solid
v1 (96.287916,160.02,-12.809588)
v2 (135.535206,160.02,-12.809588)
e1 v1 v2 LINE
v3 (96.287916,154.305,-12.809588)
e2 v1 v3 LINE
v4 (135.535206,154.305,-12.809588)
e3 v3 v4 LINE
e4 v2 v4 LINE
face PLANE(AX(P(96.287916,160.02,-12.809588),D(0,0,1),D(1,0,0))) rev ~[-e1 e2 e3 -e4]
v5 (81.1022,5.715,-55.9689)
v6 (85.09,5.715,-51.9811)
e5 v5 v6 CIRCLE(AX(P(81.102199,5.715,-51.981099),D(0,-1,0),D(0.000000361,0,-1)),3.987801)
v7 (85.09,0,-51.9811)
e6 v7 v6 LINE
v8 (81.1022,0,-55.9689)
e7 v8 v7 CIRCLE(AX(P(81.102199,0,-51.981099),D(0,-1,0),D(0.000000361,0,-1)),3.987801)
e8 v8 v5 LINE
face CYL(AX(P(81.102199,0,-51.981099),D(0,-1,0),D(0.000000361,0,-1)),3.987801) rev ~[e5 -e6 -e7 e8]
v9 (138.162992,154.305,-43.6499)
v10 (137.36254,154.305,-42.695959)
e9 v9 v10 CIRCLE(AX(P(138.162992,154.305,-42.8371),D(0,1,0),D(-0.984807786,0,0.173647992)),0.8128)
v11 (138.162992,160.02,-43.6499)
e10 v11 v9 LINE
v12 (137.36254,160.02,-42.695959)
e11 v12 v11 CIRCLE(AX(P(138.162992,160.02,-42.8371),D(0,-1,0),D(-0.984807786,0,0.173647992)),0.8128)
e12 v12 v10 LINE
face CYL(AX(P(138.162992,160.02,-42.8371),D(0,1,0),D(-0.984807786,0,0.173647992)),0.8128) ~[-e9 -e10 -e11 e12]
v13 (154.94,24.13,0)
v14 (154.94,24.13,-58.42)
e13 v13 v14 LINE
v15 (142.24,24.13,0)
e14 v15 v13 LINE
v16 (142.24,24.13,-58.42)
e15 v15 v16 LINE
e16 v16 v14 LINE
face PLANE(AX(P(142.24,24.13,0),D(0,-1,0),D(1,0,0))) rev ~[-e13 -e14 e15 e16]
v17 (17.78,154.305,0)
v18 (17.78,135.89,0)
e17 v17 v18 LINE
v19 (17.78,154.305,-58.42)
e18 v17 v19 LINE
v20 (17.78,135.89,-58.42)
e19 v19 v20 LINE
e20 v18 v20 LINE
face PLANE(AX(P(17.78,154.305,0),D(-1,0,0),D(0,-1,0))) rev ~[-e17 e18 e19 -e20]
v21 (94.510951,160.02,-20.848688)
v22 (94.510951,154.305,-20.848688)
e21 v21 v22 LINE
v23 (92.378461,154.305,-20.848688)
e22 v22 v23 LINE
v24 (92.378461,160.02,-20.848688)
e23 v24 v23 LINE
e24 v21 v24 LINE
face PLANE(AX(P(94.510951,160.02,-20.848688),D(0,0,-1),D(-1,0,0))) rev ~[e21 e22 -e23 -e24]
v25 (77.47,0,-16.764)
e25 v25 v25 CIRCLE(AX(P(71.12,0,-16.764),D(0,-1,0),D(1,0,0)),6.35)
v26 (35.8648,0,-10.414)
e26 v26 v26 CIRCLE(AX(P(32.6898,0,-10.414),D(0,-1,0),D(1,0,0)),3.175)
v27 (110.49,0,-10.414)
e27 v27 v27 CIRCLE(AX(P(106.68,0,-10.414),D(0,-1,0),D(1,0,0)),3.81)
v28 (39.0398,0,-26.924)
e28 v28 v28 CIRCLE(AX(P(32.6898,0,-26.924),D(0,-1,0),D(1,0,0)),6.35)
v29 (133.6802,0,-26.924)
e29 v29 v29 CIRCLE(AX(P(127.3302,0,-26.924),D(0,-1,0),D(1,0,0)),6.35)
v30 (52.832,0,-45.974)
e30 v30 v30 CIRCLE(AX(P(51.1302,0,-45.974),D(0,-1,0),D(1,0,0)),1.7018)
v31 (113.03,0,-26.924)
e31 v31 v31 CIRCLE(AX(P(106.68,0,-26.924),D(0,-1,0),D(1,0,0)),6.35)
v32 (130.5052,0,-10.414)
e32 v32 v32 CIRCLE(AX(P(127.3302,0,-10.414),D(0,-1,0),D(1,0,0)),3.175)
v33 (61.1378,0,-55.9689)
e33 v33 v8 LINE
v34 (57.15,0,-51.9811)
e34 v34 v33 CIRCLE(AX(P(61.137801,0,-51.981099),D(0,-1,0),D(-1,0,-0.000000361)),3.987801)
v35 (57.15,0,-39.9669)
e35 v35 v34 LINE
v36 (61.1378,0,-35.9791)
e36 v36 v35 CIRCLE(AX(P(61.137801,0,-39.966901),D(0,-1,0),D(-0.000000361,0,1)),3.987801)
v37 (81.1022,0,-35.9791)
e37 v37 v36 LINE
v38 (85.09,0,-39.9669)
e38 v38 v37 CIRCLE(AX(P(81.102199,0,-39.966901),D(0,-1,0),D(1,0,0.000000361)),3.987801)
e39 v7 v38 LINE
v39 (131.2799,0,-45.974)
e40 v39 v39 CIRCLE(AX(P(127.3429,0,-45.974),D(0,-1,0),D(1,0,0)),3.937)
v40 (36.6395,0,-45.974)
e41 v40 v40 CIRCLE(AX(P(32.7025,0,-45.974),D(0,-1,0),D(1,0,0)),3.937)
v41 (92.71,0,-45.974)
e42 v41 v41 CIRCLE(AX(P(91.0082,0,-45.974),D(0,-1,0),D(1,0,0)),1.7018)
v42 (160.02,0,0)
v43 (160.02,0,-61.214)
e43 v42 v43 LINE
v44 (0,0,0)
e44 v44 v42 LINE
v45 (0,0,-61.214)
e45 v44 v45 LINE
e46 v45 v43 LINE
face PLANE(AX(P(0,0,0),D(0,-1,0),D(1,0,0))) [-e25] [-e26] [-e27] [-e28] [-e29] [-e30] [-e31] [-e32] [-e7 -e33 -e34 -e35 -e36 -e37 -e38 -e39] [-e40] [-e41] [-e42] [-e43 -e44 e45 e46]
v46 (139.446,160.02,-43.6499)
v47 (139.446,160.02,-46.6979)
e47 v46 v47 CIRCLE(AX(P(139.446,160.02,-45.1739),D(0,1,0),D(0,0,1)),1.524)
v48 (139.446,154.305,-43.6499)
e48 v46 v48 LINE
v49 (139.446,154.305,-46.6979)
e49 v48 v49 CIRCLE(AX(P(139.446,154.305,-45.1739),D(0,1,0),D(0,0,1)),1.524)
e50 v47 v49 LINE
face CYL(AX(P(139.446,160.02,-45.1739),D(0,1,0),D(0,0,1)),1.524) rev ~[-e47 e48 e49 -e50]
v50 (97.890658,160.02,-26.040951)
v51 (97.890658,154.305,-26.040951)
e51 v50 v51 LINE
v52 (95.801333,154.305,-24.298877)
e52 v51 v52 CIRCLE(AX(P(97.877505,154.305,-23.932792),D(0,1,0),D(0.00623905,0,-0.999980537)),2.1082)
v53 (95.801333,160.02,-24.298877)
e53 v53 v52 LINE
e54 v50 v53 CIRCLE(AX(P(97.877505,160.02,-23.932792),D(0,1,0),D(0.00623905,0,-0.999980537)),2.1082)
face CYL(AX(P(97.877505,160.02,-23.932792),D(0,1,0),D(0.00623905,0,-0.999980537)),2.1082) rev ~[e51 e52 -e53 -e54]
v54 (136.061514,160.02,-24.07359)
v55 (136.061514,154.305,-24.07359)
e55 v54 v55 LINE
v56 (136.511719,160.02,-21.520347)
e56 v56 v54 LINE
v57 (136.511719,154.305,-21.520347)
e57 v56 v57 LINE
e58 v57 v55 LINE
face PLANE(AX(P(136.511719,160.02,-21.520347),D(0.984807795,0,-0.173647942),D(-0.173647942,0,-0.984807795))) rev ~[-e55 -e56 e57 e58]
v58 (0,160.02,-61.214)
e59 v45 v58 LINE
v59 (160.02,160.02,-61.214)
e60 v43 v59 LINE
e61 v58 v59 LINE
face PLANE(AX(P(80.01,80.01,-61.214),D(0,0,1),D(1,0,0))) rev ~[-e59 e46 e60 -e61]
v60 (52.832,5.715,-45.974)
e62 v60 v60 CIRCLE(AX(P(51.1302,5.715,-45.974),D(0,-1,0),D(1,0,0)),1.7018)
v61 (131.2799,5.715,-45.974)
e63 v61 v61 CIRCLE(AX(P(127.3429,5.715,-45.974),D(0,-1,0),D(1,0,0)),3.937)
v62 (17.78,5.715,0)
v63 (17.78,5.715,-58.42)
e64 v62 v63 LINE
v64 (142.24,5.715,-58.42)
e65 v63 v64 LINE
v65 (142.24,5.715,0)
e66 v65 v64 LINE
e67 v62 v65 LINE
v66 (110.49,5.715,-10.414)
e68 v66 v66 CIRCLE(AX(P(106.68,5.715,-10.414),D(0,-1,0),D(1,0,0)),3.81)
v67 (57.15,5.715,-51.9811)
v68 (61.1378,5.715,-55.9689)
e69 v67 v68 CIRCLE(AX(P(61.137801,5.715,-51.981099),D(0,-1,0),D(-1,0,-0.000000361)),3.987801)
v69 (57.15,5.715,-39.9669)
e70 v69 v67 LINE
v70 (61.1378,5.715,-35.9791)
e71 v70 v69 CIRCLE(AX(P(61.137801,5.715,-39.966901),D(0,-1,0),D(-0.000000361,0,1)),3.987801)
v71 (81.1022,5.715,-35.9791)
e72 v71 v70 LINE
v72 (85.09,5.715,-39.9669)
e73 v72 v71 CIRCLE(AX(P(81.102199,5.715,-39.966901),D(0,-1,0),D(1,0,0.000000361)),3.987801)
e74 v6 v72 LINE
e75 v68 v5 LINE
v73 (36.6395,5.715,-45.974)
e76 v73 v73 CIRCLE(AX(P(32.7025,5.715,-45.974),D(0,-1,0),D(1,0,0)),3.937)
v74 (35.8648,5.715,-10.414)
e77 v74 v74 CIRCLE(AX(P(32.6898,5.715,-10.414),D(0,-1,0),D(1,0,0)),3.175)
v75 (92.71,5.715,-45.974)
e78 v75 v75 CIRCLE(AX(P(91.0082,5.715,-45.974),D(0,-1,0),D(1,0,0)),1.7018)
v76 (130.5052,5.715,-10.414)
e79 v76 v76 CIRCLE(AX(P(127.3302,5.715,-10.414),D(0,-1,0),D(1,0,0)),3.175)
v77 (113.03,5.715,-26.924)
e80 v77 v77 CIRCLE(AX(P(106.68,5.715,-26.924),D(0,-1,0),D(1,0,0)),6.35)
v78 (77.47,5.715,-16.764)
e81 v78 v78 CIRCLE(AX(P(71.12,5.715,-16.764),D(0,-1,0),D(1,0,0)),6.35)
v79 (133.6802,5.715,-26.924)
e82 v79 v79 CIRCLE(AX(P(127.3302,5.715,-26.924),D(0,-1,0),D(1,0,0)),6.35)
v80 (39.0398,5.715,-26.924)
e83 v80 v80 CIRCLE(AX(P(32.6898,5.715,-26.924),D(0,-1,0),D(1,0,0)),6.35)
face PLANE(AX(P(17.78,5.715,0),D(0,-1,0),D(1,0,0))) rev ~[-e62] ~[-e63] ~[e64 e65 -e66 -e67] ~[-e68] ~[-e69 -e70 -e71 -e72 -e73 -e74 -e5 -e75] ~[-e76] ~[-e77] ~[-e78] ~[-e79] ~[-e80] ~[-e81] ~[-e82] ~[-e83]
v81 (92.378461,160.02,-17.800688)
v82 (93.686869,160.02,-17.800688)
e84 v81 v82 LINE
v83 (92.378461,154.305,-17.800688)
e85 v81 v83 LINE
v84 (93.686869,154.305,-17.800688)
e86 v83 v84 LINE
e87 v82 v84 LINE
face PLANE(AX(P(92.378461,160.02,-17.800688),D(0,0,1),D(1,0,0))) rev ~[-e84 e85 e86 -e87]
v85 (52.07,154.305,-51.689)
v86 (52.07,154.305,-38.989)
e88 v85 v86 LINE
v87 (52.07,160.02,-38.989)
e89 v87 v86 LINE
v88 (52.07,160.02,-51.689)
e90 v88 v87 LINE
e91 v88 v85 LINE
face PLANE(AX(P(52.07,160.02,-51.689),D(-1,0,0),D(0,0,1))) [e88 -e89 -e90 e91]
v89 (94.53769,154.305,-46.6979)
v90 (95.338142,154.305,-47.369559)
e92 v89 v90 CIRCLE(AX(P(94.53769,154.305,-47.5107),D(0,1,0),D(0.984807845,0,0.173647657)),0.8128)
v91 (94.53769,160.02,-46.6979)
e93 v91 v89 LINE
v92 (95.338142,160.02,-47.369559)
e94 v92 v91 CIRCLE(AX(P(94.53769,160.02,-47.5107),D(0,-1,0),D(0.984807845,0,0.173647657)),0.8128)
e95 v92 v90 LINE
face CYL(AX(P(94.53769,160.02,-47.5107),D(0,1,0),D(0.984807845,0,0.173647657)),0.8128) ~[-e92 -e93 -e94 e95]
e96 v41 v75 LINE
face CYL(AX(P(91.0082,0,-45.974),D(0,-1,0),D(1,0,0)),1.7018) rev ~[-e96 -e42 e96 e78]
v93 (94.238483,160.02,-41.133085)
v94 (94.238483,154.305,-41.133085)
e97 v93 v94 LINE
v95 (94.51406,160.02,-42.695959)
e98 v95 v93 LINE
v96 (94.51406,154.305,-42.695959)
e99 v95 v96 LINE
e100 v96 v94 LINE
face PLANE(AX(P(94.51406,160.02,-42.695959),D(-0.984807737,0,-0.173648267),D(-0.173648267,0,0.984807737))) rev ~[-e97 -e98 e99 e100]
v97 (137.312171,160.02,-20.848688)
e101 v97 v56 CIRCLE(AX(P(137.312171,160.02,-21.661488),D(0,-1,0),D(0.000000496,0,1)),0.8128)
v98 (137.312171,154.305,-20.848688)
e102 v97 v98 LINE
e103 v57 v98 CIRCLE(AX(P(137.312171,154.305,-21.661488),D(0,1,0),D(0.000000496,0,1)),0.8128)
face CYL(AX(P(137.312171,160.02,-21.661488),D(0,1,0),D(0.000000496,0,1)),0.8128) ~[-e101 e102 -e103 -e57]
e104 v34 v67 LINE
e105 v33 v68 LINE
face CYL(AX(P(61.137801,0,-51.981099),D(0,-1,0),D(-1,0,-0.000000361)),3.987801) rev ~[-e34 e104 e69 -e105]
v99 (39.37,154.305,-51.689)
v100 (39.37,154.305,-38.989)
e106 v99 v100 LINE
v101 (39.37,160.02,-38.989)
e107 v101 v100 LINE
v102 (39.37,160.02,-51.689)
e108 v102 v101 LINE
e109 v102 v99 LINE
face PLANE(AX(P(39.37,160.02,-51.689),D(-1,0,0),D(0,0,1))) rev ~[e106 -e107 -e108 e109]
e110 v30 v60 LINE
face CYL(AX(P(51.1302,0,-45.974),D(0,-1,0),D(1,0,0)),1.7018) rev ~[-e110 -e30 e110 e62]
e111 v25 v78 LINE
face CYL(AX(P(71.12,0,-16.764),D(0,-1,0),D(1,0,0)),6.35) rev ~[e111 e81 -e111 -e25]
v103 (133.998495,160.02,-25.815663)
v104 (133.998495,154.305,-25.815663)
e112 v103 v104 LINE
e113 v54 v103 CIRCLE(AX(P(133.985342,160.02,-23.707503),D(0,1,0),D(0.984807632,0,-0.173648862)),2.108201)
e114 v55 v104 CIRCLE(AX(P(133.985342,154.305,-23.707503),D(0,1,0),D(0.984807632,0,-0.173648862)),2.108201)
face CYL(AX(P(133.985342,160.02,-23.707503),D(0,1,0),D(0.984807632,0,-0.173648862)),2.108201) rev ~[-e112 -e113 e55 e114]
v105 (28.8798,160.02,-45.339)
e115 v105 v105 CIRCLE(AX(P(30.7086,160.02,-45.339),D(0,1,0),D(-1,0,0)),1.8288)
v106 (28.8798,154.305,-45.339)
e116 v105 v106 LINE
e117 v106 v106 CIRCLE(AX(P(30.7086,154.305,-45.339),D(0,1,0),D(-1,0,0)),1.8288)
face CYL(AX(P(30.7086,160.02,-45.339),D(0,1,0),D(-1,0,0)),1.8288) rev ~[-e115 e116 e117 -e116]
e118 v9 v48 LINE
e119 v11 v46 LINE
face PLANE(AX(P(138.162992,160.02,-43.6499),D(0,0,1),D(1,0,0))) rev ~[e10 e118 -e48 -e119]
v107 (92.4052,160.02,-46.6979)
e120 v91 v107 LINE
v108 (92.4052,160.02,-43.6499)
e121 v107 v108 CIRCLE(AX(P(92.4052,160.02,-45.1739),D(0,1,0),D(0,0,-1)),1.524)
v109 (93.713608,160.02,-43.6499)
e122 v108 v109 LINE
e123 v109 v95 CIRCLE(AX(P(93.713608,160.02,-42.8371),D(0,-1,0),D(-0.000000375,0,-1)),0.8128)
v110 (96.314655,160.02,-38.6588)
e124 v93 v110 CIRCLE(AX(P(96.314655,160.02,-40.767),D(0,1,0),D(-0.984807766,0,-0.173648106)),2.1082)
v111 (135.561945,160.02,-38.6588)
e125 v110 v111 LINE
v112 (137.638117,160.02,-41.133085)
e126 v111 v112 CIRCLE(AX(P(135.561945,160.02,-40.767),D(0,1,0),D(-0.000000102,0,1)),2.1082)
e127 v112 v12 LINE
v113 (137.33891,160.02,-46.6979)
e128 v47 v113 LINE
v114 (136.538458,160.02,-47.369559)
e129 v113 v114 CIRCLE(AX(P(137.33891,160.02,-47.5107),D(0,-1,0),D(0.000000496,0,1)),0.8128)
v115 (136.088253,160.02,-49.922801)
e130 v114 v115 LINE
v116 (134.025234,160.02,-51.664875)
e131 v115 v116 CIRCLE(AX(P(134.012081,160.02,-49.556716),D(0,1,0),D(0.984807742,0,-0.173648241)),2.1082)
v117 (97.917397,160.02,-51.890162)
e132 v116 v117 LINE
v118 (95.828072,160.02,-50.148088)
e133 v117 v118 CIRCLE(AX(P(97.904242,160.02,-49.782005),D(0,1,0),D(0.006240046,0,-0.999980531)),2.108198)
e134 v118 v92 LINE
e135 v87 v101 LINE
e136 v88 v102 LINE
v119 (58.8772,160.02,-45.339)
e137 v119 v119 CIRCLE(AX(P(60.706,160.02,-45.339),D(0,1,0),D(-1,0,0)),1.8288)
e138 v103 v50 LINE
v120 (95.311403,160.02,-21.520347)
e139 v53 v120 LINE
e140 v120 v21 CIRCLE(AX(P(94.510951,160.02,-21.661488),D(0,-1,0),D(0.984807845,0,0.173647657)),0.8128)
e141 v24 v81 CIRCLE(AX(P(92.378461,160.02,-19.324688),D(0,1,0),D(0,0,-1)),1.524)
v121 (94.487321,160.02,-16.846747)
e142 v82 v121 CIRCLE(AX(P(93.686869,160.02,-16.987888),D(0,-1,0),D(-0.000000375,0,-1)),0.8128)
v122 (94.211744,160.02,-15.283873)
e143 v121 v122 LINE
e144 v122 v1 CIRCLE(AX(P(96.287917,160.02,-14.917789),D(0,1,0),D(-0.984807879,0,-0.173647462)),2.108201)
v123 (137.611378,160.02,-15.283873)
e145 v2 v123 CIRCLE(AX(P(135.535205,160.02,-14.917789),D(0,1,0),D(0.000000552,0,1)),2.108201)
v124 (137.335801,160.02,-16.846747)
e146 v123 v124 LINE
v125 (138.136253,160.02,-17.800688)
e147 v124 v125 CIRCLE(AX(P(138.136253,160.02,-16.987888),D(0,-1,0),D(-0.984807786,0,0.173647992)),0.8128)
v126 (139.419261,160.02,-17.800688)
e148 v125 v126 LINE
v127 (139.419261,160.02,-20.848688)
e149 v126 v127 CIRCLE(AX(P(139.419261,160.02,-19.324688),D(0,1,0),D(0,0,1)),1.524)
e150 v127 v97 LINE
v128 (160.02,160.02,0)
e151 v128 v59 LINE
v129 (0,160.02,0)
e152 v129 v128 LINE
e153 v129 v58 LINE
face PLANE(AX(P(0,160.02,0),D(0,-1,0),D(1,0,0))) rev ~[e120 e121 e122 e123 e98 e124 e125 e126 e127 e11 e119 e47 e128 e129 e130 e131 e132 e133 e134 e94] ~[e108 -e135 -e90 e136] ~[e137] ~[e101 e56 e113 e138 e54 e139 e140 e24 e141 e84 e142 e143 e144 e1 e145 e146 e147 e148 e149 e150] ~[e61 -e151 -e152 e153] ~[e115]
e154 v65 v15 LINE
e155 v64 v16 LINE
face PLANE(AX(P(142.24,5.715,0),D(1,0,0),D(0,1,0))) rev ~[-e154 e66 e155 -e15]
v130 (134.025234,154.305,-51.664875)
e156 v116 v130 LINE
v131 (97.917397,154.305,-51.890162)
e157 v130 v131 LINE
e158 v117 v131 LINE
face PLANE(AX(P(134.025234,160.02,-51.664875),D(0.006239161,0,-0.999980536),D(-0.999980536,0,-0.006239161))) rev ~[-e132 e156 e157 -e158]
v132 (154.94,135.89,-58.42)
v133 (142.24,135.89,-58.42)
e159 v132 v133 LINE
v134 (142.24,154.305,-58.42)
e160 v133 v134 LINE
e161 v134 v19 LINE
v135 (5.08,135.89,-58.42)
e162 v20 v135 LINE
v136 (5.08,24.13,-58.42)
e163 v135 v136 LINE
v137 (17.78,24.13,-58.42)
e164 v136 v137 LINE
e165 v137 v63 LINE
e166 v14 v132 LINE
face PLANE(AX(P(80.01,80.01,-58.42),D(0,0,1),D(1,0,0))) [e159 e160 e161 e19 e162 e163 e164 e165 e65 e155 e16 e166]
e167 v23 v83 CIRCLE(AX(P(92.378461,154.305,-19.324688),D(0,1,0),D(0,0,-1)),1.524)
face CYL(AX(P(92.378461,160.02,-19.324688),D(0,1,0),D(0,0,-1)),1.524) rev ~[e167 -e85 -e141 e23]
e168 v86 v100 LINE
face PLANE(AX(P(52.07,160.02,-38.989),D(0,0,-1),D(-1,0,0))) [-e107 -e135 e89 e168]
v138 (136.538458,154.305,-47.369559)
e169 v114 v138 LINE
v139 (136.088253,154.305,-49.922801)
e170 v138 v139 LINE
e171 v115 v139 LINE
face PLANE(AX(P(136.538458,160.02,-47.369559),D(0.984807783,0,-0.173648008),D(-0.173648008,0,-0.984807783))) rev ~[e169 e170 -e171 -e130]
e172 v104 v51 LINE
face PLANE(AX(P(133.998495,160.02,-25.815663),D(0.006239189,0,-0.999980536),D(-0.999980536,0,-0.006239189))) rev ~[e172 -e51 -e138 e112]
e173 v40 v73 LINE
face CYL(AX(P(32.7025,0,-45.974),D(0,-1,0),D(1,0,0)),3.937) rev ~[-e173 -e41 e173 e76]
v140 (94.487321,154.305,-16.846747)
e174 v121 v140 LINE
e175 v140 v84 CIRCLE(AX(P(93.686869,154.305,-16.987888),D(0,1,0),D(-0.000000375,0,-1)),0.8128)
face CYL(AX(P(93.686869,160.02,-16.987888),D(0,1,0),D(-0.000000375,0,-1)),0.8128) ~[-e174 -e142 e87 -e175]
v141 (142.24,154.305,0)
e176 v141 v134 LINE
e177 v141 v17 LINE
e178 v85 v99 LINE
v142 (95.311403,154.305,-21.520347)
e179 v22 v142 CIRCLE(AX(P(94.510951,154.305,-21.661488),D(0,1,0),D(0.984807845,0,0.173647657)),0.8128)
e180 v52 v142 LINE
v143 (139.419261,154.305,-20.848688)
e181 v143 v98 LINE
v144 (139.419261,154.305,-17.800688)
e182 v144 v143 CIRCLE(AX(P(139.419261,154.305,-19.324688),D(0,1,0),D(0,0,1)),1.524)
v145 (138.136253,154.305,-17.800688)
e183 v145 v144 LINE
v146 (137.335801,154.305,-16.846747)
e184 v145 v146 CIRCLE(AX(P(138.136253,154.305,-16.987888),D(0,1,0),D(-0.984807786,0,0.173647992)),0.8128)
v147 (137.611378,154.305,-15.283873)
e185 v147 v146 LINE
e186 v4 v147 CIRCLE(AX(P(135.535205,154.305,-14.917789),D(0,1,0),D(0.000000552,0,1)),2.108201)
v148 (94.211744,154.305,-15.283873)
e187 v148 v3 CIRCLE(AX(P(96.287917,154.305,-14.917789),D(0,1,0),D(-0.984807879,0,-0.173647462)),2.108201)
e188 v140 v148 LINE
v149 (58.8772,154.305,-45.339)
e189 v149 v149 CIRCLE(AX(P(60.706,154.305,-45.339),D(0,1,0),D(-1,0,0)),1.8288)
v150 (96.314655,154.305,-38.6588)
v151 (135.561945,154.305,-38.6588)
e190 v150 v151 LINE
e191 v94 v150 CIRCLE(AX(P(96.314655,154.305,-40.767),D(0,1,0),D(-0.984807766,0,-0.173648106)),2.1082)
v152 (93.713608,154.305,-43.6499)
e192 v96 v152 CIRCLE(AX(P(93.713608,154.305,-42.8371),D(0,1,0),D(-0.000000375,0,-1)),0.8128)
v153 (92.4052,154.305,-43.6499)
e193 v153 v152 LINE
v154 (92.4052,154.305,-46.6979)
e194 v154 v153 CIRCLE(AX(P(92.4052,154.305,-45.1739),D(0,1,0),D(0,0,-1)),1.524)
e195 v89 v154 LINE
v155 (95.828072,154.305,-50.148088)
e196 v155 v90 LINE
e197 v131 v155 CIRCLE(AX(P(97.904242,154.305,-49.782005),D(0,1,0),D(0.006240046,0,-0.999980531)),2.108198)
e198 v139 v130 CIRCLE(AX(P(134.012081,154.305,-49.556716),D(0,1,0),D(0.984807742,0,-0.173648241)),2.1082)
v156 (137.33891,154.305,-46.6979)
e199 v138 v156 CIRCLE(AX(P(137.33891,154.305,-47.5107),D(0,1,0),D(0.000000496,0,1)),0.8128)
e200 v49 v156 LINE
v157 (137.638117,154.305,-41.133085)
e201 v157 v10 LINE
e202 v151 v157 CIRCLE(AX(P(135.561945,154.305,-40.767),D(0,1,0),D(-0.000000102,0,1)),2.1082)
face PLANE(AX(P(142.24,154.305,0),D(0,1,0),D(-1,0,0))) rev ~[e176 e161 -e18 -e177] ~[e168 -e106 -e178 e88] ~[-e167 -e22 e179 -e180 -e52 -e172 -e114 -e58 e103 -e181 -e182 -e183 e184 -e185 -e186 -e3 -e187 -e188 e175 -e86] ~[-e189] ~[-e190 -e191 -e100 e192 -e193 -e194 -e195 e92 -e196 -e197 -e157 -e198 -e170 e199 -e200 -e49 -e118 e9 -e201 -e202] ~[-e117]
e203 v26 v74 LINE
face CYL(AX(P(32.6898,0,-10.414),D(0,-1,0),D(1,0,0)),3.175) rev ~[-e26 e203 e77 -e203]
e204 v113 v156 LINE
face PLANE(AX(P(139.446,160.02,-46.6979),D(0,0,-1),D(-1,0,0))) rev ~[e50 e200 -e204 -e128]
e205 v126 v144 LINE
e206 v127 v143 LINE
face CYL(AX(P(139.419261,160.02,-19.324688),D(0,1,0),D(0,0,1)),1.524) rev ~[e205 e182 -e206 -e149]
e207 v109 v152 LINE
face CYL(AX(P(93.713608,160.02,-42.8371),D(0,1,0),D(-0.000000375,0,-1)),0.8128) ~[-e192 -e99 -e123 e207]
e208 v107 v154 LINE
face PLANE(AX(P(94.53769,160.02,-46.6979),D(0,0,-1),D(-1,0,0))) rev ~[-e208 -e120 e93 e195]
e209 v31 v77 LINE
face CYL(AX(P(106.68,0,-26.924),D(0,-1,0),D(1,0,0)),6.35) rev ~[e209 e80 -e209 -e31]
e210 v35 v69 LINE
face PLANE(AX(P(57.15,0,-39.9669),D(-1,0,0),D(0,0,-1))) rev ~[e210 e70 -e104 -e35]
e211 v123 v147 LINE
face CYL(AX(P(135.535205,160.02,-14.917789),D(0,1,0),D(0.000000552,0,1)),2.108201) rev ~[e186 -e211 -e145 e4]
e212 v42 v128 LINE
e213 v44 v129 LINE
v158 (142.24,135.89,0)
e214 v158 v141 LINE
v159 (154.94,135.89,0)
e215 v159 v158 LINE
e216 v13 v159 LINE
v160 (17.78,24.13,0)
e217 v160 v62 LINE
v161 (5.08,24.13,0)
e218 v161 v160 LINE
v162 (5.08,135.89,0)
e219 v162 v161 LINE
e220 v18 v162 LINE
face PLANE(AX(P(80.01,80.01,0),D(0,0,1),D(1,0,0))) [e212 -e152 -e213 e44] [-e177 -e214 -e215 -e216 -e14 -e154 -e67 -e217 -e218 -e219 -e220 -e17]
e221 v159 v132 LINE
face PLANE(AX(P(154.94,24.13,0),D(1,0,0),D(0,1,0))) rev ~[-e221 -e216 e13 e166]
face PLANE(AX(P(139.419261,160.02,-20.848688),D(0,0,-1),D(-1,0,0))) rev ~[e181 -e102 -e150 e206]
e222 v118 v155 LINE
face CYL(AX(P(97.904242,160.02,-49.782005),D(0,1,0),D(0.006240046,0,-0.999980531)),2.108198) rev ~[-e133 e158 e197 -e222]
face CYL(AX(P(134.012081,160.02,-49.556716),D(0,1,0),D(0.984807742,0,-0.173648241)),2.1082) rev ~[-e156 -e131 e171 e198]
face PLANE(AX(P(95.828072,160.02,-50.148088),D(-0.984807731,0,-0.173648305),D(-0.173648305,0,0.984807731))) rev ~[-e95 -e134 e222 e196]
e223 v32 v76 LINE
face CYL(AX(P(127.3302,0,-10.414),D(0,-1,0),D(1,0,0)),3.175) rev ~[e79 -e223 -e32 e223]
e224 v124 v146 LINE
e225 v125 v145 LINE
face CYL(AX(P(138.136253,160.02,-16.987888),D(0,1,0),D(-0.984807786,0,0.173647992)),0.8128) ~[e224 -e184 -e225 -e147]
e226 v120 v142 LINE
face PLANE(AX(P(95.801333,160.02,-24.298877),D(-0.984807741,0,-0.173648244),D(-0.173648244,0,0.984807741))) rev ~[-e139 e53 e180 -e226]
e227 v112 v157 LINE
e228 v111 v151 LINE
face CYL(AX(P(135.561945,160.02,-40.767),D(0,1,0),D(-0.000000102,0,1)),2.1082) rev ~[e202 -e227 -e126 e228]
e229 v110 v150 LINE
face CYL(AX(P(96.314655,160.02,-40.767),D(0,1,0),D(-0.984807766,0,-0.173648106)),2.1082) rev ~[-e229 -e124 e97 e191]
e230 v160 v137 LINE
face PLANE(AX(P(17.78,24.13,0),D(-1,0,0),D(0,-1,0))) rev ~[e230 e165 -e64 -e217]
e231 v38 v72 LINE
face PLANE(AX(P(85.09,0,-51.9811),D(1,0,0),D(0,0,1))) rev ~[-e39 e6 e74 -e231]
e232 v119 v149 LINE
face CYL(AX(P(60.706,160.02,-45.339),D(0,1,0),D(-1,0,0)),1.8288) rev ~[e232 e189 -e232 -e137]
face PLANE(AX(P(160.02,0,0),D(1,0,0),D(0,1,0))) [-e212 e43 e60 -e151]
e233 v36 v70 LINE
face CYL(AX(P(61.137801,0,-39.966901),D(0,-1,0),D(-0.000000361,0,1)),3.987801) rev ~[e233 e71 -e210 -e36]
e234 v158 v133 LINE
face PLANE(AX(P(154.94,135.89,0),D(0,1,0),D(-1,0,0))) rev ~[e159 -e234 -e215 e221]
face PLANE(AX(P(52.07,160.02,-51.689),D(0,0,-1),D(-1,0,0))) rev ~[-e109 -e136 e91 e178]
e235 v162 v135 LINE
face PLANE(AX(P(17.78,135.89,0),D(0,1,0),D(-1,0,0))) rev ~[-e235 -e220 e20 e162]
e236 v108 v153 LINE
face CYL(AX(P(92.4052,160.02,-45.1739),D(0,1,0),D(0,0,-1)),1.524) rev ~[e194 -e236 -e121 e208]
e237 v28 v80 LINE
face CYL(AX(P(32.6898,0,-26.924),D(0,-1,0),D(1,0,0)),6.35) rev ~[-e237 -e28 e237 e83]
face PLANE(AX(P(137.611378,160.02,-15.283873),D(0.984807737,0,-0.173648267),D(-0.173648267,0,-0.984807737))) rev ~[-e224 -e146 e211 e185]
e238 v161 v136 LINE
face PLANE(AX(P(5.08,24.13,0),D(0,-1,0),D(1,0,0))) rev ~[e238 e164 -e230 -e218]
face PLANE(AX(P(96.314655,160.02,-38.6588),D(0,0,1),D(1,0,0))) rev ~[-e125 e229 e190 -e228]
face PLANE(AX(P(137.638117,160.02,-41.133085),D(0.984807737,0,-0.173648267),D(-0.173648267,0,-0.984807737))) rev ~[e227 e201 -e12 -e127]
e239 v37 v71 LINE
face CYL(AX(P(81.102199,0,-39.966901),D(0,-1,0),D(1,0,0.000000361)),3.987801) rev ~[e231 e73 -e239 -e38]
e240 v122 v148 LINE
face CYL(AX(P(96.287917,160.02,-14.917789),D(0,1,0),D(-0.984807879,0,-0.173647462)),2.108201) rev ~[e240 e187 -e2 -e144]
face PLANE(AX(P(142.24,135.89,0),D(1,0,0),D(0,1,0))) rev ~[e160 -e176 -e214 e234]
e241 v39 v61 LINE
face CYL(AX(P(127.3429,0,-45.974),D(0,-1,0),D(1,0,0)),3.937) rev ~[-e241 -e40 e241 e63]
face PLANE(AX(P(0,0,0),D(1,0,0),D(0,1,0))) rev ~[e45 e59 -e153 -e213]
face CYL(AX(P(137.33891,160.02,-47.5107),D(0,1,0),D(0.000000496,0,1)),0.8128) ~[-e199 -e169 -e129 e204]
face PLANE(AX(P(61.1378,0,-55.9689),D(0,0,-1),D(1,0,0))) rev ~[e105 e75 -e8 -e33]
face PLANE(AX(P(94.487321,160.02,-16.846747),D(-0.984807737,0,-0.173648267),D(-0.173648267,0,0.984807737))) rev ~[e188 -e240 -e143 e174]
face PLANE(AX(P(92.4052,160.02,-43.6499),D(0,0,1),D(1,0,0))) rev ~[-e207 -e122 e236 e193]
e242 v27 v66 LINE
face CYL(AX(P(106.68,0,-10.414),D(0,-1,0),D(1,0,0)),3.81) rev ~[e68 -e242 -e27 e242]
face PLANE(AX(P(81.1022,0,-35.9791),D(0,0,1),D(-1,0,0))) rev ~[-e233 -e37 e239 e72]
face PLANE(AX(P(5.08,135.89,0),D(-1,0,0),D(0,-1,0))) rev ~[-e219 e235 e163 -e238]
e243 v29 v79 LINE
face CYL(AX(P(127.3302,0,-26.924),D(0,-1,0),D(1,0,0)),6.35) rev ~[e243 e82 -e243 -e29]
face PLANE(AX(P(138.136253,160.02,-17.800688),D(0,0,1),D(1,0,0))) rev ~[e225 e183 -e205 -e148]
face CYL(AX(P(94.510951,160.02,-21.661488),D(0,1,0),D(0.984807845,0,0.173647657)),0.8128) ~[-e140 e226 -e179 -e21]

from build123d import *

# Parameters (mm, degrees)
F0_W      = 160.02
F0_H      = 160.02
F1_DEPTH  = 61.214
F3_DEPTH  = 58.42
F4_R      = 3.937
F5_DEPTH  = 6.35
F7_DEPTH  = 6.35
F8_R      = 1.7018
F9_DEPTH  = 6.35
F11_R     = 6.35
F12_DEPTH = 6.35
F13_R     = 3.175
F14_DEPTH = 6.35
F15_R     = 6.35
F16_DEPTH = 6.35
F17_R     = 6.35
F18_DEPTH = 6.35
F19_R     = 3.81
F20_DEPTH = 6.35
F23_DEPTH = 6.35
F24_W     = 12.7
F24_H     = 12.7
F24_R     = 1.8288
F25_DEPTH = 6.35


with BuildPart() as f1:
    # F0 (on Top) → F1 (new body)
    with BuildSketch(Plane.XY):
        with Locations((80.01, 80.01)):
            Rectangle(F0_W, F0_H)
    extrude(amount=-F1_DEPTH)

    # F2 (on face) → F3 (cut)
    with BuildSketch(Plane.XY):
        Polygon((142.24, 154.305), (17.78, 154.305), (17.78, 135.89), (5.08, 135.89), (5.08, 24.13), (17.78, 24.13), (17.78, 5.715), (142.24, 5.715), (142.24, 24.13), (154.94, 24.13), (154.94, 135.89), (142.24, 135.89), align=None)
    extrude(amount=-F3_DEPTH, mode=Mode.SUBTRACT)

    # F4 (on face) → F5 (cut)
    with BuildSketch(Plane.XZ):
        with Locations((32.7025, -45.974)):
            Circle(F4_R)
        with Locations((127.3429, -45.974)):
            Circle(F4_R)
    extrude(amount=-F5_DEPTH, mode=Mode.SUBTRACT)

    # F6 (on face) → F7 (cut)
    with BuildSketch(Plane.XZ):
        with BuildLine():
            Line((81.1022, -35.9791), (61.1378, -35.9791))
            ThreePointArc((61.1378, -35.9791), (58.318, -37.1471), (57.15, -39.9669))
            Line((57.15, -39.9669), (57.15, -51.9811))
            ThreePointArc((57.15, -51.9811), (58.318, -54.8009), (61.1378, -55.9689))
            Line((61.1378, -55.9689), (81.1022, -55.9689))
            ThreePointArc((81.1022, -55.9689), (83.922, -54.8009), (85.09, -51.9811))
            Line((85.09, -51.9811), (85.09, -39.9669))
            ThreePointArc((85.09, -39.9669), (83.922, -37.1471), (81.1022, -35.9791))
        make_face()
    extrude(amount=-F7_DEPTH, mode=Mode.SUBTRACT)

    # F8 (on face) → F9 (cut)
    with BuildSketch(Plane.XZ):
        with Locations((51.1302, -45.974)):
            Circle(F8_R)
        with Locations((91.0082, -45.974)):
            Circle(F8_R)
    extrude(amount=-F9_DEPTH, mode=Mode.SUBTRACT)

    # F11 (on face) → F12 (cut)
    with BuildSketch(Plane.XZ):
        with Locations((32.6898, -26.924)):
            Circle(F11_R)
        with Locations((127.3302, -26.924)):
            Circle(F11_R)
    extrude(amount=-F12_DEPTH, mode=Mode.SUBTRACT)

    # F13 (on face) → F14 (cut)
    with BuildSketch(Plane.XZ):
        with Locations((32.6898, -10.414)):
            Circle(F13_R)
        with Locations((127.3302, -10.414)):
            Circle(F13_R)
    extrude(amount=-F14_DEPTH, mode=Mode.SUBTRACT)

    # F15 (on face) → F16 (cut)
    with BuildSketch(Plane.XZ):
        with Locations((71.12, -16.764)):
            Circle(F15_R)
    extrude(amount=-F16_DEPTH, mode=Mode.SUBTRACT)

    # F17 (on face) → F18 (cut)
    with BuildSketch(Plane.XZ):
        with Locations((106.68, -26.924)):
            Circle(F17_R)
    extrude(amount=-F18_DEPTH, mode=Mode.SUBTRACT)

    # F19 (on face) → F20 (cut)
    with BuildSketch(Plane.XZ):
        with Locations((106.68, -10.414)):
            Circle(F19_R)
    extrude(amount=-F20_DEPTH, mode=Mode.SUBTRACT)

    # F22 (on face) → F23 (cut)
    with BuildSketch(Plane(origin=(0, 160.02, 0), x_dir=(-1, 0, 0), z_dir=(0, 1, 0))):
        with BuildLine():
            ThreePointArc((-139.419261, -17.800688), (-140.943261, -19.324688), (-139.419261, -20.848688))
            Line((-139.419261, -20.848688), (-137.312171, -20.848688))
            ThreePointArc((-137.312171, -20.848688), (-136.789713, -21.038847), (-136.511719, -21.520347))
            Line((-136.511719, -21.520347), (-136.061514, -24.07359))
            ThreePointArc((-136.061514, -24.07359), (-135.345498, -25.318244), (-133.998495, -25.815663))
            Line((-133.998495, -25.815663), (-97.890658, -26.040951))
            ThreePointArc((-97.890658, -26.040951), (-96.527424, -25.551986), (-95.801333, -24.298877))
            Line((-95.801333, -24.298877), (-95.311403, -21.520347))
            ThreePointArc((-95.311403, -21.520347), (-95.033409, -21.038847), (-94.510951, -20.848688))
            Line((-94.510951, -20.848688), (-92.378461, -20.848688))
            ThreePointArc((-92.378461, -20.848688), (-90.854461, -19.324688), (-92.378461, -17.800688))
            Line((-92.378461, -17.800688), (-93.686869, -17.800688))
            ThreePointArc((-93.686869, -17.800688), (-94.30951, -17.510346), (-94.487321, -16.846747))
            Line((-94.487321, -16.846747), (-94.211744, -15.283873))
            ThreePointArc((-94.211744, -15.283873), (-94.672941, -13.562664), (-96.287916, -12.809588))
            Line((-96.287916, -12.809588), (-135.535206, -12.809588))
            ThreePointArc((-135.535206, -12.809588), (-137.150181, -13.562664), (-137.611378, -15.283873))
            Line((-137.611378, -15.283873), (-137.335801, -16.846747))
            ThreePointArc((-137.335801, -16.846747), (-137.513612, -17.510346), (-138.136253, -17.800688))
            Line((-138.136253, -17.800688), (-139.419261, -17.800688))
        make_face()
        with BuildLine():
            ThreePointArc((-139.446, -43.6499), (-140.97, -45.1739), (-139.446, -46.6979))
            Line((-139.446, -46.6979), (-137.33891, -46.6979))
            ThreePointArc((-137.33891, -46.6979), (-136.816452, -46.888059), (-136.538458, -47.369559))
            Line((-136.538458, -47.369559), (-136.088253, -49.922801))
            ThreePointArc((-136.088253, -49.922801), (-135.372237, -51.167456), (-134.025234, -51.664875))
            Line((-134.025234, -51.664875), (-97.917397, -51.890162))
            ThreePointArc((-97.917397, -51.890162), (-96.554163, -51.401198), (-95.828072, -50.148088))
            Line((-95.828072, -50.148088), (-95.338142, -47.369559))
            ThreePointArc((-95.338142, -47.369559), (-95.060148, -46.888059), (-94.53769, -46.6979))
            Line((-94.53769, -46.6979), (-92.4052, -46.6979))
            ThreePointArc((-92.4052, -46.6979), (-90.8812, -45.1739), (-92.4052, -43.6499))
            Line((-92.4052, -43.6499), (-93.713608, -43.6499))
            ThreePointArc((-93.713608, -43.6499), (-94.336249, -43.359558), (-94.51406, -42.695959))
            Line((-94.51406, -42.695959), (-94.238483, -41.133085))
            ThreePointArc((-94.238483, -41.133085), (-94.69968, -39.411875), (-96.314655, -38.6588))
            Line((-96.314655, -38.6588), (-135.561945, -38.6588))
            ThreePointArc((-135.561945, -38.6588), (-137.17692, -39.411875), (-137.638117, -41.133085))
            Line((-137.638117, -41.133085), (-137.36254, -42.695959))
            ThreePointArc((-137.36254, -42.695959), (-137.540351, -43.359558), (-138.162992, -43.6499))
            Line((-138.162992, -43.6499), (-139.446, -43.6499))
        make_face()
    extrude(amount=-F23_DEPTH, mode=Mode.SUBTRACT)

    # F24 (on face) → F25 (cut)
    with BuildSketch(Plane(origin=(0, 160.02, 0), x_dir=(-1, 0, 0), z_dir=(0, 1, 0))):
        with Locations((-45.72, -45.339)):
            Rectangle(F24_W, F24_H)
        with Locations((-60.706, -45.339)):
            Circle(F24_R)
        with Locations((-30.7086, -45.339)):
            Circle(F24_R)
    extrude(amount=-F25_DEPTH, mode=Mode.SUBTRACT)


solid = f1.part
